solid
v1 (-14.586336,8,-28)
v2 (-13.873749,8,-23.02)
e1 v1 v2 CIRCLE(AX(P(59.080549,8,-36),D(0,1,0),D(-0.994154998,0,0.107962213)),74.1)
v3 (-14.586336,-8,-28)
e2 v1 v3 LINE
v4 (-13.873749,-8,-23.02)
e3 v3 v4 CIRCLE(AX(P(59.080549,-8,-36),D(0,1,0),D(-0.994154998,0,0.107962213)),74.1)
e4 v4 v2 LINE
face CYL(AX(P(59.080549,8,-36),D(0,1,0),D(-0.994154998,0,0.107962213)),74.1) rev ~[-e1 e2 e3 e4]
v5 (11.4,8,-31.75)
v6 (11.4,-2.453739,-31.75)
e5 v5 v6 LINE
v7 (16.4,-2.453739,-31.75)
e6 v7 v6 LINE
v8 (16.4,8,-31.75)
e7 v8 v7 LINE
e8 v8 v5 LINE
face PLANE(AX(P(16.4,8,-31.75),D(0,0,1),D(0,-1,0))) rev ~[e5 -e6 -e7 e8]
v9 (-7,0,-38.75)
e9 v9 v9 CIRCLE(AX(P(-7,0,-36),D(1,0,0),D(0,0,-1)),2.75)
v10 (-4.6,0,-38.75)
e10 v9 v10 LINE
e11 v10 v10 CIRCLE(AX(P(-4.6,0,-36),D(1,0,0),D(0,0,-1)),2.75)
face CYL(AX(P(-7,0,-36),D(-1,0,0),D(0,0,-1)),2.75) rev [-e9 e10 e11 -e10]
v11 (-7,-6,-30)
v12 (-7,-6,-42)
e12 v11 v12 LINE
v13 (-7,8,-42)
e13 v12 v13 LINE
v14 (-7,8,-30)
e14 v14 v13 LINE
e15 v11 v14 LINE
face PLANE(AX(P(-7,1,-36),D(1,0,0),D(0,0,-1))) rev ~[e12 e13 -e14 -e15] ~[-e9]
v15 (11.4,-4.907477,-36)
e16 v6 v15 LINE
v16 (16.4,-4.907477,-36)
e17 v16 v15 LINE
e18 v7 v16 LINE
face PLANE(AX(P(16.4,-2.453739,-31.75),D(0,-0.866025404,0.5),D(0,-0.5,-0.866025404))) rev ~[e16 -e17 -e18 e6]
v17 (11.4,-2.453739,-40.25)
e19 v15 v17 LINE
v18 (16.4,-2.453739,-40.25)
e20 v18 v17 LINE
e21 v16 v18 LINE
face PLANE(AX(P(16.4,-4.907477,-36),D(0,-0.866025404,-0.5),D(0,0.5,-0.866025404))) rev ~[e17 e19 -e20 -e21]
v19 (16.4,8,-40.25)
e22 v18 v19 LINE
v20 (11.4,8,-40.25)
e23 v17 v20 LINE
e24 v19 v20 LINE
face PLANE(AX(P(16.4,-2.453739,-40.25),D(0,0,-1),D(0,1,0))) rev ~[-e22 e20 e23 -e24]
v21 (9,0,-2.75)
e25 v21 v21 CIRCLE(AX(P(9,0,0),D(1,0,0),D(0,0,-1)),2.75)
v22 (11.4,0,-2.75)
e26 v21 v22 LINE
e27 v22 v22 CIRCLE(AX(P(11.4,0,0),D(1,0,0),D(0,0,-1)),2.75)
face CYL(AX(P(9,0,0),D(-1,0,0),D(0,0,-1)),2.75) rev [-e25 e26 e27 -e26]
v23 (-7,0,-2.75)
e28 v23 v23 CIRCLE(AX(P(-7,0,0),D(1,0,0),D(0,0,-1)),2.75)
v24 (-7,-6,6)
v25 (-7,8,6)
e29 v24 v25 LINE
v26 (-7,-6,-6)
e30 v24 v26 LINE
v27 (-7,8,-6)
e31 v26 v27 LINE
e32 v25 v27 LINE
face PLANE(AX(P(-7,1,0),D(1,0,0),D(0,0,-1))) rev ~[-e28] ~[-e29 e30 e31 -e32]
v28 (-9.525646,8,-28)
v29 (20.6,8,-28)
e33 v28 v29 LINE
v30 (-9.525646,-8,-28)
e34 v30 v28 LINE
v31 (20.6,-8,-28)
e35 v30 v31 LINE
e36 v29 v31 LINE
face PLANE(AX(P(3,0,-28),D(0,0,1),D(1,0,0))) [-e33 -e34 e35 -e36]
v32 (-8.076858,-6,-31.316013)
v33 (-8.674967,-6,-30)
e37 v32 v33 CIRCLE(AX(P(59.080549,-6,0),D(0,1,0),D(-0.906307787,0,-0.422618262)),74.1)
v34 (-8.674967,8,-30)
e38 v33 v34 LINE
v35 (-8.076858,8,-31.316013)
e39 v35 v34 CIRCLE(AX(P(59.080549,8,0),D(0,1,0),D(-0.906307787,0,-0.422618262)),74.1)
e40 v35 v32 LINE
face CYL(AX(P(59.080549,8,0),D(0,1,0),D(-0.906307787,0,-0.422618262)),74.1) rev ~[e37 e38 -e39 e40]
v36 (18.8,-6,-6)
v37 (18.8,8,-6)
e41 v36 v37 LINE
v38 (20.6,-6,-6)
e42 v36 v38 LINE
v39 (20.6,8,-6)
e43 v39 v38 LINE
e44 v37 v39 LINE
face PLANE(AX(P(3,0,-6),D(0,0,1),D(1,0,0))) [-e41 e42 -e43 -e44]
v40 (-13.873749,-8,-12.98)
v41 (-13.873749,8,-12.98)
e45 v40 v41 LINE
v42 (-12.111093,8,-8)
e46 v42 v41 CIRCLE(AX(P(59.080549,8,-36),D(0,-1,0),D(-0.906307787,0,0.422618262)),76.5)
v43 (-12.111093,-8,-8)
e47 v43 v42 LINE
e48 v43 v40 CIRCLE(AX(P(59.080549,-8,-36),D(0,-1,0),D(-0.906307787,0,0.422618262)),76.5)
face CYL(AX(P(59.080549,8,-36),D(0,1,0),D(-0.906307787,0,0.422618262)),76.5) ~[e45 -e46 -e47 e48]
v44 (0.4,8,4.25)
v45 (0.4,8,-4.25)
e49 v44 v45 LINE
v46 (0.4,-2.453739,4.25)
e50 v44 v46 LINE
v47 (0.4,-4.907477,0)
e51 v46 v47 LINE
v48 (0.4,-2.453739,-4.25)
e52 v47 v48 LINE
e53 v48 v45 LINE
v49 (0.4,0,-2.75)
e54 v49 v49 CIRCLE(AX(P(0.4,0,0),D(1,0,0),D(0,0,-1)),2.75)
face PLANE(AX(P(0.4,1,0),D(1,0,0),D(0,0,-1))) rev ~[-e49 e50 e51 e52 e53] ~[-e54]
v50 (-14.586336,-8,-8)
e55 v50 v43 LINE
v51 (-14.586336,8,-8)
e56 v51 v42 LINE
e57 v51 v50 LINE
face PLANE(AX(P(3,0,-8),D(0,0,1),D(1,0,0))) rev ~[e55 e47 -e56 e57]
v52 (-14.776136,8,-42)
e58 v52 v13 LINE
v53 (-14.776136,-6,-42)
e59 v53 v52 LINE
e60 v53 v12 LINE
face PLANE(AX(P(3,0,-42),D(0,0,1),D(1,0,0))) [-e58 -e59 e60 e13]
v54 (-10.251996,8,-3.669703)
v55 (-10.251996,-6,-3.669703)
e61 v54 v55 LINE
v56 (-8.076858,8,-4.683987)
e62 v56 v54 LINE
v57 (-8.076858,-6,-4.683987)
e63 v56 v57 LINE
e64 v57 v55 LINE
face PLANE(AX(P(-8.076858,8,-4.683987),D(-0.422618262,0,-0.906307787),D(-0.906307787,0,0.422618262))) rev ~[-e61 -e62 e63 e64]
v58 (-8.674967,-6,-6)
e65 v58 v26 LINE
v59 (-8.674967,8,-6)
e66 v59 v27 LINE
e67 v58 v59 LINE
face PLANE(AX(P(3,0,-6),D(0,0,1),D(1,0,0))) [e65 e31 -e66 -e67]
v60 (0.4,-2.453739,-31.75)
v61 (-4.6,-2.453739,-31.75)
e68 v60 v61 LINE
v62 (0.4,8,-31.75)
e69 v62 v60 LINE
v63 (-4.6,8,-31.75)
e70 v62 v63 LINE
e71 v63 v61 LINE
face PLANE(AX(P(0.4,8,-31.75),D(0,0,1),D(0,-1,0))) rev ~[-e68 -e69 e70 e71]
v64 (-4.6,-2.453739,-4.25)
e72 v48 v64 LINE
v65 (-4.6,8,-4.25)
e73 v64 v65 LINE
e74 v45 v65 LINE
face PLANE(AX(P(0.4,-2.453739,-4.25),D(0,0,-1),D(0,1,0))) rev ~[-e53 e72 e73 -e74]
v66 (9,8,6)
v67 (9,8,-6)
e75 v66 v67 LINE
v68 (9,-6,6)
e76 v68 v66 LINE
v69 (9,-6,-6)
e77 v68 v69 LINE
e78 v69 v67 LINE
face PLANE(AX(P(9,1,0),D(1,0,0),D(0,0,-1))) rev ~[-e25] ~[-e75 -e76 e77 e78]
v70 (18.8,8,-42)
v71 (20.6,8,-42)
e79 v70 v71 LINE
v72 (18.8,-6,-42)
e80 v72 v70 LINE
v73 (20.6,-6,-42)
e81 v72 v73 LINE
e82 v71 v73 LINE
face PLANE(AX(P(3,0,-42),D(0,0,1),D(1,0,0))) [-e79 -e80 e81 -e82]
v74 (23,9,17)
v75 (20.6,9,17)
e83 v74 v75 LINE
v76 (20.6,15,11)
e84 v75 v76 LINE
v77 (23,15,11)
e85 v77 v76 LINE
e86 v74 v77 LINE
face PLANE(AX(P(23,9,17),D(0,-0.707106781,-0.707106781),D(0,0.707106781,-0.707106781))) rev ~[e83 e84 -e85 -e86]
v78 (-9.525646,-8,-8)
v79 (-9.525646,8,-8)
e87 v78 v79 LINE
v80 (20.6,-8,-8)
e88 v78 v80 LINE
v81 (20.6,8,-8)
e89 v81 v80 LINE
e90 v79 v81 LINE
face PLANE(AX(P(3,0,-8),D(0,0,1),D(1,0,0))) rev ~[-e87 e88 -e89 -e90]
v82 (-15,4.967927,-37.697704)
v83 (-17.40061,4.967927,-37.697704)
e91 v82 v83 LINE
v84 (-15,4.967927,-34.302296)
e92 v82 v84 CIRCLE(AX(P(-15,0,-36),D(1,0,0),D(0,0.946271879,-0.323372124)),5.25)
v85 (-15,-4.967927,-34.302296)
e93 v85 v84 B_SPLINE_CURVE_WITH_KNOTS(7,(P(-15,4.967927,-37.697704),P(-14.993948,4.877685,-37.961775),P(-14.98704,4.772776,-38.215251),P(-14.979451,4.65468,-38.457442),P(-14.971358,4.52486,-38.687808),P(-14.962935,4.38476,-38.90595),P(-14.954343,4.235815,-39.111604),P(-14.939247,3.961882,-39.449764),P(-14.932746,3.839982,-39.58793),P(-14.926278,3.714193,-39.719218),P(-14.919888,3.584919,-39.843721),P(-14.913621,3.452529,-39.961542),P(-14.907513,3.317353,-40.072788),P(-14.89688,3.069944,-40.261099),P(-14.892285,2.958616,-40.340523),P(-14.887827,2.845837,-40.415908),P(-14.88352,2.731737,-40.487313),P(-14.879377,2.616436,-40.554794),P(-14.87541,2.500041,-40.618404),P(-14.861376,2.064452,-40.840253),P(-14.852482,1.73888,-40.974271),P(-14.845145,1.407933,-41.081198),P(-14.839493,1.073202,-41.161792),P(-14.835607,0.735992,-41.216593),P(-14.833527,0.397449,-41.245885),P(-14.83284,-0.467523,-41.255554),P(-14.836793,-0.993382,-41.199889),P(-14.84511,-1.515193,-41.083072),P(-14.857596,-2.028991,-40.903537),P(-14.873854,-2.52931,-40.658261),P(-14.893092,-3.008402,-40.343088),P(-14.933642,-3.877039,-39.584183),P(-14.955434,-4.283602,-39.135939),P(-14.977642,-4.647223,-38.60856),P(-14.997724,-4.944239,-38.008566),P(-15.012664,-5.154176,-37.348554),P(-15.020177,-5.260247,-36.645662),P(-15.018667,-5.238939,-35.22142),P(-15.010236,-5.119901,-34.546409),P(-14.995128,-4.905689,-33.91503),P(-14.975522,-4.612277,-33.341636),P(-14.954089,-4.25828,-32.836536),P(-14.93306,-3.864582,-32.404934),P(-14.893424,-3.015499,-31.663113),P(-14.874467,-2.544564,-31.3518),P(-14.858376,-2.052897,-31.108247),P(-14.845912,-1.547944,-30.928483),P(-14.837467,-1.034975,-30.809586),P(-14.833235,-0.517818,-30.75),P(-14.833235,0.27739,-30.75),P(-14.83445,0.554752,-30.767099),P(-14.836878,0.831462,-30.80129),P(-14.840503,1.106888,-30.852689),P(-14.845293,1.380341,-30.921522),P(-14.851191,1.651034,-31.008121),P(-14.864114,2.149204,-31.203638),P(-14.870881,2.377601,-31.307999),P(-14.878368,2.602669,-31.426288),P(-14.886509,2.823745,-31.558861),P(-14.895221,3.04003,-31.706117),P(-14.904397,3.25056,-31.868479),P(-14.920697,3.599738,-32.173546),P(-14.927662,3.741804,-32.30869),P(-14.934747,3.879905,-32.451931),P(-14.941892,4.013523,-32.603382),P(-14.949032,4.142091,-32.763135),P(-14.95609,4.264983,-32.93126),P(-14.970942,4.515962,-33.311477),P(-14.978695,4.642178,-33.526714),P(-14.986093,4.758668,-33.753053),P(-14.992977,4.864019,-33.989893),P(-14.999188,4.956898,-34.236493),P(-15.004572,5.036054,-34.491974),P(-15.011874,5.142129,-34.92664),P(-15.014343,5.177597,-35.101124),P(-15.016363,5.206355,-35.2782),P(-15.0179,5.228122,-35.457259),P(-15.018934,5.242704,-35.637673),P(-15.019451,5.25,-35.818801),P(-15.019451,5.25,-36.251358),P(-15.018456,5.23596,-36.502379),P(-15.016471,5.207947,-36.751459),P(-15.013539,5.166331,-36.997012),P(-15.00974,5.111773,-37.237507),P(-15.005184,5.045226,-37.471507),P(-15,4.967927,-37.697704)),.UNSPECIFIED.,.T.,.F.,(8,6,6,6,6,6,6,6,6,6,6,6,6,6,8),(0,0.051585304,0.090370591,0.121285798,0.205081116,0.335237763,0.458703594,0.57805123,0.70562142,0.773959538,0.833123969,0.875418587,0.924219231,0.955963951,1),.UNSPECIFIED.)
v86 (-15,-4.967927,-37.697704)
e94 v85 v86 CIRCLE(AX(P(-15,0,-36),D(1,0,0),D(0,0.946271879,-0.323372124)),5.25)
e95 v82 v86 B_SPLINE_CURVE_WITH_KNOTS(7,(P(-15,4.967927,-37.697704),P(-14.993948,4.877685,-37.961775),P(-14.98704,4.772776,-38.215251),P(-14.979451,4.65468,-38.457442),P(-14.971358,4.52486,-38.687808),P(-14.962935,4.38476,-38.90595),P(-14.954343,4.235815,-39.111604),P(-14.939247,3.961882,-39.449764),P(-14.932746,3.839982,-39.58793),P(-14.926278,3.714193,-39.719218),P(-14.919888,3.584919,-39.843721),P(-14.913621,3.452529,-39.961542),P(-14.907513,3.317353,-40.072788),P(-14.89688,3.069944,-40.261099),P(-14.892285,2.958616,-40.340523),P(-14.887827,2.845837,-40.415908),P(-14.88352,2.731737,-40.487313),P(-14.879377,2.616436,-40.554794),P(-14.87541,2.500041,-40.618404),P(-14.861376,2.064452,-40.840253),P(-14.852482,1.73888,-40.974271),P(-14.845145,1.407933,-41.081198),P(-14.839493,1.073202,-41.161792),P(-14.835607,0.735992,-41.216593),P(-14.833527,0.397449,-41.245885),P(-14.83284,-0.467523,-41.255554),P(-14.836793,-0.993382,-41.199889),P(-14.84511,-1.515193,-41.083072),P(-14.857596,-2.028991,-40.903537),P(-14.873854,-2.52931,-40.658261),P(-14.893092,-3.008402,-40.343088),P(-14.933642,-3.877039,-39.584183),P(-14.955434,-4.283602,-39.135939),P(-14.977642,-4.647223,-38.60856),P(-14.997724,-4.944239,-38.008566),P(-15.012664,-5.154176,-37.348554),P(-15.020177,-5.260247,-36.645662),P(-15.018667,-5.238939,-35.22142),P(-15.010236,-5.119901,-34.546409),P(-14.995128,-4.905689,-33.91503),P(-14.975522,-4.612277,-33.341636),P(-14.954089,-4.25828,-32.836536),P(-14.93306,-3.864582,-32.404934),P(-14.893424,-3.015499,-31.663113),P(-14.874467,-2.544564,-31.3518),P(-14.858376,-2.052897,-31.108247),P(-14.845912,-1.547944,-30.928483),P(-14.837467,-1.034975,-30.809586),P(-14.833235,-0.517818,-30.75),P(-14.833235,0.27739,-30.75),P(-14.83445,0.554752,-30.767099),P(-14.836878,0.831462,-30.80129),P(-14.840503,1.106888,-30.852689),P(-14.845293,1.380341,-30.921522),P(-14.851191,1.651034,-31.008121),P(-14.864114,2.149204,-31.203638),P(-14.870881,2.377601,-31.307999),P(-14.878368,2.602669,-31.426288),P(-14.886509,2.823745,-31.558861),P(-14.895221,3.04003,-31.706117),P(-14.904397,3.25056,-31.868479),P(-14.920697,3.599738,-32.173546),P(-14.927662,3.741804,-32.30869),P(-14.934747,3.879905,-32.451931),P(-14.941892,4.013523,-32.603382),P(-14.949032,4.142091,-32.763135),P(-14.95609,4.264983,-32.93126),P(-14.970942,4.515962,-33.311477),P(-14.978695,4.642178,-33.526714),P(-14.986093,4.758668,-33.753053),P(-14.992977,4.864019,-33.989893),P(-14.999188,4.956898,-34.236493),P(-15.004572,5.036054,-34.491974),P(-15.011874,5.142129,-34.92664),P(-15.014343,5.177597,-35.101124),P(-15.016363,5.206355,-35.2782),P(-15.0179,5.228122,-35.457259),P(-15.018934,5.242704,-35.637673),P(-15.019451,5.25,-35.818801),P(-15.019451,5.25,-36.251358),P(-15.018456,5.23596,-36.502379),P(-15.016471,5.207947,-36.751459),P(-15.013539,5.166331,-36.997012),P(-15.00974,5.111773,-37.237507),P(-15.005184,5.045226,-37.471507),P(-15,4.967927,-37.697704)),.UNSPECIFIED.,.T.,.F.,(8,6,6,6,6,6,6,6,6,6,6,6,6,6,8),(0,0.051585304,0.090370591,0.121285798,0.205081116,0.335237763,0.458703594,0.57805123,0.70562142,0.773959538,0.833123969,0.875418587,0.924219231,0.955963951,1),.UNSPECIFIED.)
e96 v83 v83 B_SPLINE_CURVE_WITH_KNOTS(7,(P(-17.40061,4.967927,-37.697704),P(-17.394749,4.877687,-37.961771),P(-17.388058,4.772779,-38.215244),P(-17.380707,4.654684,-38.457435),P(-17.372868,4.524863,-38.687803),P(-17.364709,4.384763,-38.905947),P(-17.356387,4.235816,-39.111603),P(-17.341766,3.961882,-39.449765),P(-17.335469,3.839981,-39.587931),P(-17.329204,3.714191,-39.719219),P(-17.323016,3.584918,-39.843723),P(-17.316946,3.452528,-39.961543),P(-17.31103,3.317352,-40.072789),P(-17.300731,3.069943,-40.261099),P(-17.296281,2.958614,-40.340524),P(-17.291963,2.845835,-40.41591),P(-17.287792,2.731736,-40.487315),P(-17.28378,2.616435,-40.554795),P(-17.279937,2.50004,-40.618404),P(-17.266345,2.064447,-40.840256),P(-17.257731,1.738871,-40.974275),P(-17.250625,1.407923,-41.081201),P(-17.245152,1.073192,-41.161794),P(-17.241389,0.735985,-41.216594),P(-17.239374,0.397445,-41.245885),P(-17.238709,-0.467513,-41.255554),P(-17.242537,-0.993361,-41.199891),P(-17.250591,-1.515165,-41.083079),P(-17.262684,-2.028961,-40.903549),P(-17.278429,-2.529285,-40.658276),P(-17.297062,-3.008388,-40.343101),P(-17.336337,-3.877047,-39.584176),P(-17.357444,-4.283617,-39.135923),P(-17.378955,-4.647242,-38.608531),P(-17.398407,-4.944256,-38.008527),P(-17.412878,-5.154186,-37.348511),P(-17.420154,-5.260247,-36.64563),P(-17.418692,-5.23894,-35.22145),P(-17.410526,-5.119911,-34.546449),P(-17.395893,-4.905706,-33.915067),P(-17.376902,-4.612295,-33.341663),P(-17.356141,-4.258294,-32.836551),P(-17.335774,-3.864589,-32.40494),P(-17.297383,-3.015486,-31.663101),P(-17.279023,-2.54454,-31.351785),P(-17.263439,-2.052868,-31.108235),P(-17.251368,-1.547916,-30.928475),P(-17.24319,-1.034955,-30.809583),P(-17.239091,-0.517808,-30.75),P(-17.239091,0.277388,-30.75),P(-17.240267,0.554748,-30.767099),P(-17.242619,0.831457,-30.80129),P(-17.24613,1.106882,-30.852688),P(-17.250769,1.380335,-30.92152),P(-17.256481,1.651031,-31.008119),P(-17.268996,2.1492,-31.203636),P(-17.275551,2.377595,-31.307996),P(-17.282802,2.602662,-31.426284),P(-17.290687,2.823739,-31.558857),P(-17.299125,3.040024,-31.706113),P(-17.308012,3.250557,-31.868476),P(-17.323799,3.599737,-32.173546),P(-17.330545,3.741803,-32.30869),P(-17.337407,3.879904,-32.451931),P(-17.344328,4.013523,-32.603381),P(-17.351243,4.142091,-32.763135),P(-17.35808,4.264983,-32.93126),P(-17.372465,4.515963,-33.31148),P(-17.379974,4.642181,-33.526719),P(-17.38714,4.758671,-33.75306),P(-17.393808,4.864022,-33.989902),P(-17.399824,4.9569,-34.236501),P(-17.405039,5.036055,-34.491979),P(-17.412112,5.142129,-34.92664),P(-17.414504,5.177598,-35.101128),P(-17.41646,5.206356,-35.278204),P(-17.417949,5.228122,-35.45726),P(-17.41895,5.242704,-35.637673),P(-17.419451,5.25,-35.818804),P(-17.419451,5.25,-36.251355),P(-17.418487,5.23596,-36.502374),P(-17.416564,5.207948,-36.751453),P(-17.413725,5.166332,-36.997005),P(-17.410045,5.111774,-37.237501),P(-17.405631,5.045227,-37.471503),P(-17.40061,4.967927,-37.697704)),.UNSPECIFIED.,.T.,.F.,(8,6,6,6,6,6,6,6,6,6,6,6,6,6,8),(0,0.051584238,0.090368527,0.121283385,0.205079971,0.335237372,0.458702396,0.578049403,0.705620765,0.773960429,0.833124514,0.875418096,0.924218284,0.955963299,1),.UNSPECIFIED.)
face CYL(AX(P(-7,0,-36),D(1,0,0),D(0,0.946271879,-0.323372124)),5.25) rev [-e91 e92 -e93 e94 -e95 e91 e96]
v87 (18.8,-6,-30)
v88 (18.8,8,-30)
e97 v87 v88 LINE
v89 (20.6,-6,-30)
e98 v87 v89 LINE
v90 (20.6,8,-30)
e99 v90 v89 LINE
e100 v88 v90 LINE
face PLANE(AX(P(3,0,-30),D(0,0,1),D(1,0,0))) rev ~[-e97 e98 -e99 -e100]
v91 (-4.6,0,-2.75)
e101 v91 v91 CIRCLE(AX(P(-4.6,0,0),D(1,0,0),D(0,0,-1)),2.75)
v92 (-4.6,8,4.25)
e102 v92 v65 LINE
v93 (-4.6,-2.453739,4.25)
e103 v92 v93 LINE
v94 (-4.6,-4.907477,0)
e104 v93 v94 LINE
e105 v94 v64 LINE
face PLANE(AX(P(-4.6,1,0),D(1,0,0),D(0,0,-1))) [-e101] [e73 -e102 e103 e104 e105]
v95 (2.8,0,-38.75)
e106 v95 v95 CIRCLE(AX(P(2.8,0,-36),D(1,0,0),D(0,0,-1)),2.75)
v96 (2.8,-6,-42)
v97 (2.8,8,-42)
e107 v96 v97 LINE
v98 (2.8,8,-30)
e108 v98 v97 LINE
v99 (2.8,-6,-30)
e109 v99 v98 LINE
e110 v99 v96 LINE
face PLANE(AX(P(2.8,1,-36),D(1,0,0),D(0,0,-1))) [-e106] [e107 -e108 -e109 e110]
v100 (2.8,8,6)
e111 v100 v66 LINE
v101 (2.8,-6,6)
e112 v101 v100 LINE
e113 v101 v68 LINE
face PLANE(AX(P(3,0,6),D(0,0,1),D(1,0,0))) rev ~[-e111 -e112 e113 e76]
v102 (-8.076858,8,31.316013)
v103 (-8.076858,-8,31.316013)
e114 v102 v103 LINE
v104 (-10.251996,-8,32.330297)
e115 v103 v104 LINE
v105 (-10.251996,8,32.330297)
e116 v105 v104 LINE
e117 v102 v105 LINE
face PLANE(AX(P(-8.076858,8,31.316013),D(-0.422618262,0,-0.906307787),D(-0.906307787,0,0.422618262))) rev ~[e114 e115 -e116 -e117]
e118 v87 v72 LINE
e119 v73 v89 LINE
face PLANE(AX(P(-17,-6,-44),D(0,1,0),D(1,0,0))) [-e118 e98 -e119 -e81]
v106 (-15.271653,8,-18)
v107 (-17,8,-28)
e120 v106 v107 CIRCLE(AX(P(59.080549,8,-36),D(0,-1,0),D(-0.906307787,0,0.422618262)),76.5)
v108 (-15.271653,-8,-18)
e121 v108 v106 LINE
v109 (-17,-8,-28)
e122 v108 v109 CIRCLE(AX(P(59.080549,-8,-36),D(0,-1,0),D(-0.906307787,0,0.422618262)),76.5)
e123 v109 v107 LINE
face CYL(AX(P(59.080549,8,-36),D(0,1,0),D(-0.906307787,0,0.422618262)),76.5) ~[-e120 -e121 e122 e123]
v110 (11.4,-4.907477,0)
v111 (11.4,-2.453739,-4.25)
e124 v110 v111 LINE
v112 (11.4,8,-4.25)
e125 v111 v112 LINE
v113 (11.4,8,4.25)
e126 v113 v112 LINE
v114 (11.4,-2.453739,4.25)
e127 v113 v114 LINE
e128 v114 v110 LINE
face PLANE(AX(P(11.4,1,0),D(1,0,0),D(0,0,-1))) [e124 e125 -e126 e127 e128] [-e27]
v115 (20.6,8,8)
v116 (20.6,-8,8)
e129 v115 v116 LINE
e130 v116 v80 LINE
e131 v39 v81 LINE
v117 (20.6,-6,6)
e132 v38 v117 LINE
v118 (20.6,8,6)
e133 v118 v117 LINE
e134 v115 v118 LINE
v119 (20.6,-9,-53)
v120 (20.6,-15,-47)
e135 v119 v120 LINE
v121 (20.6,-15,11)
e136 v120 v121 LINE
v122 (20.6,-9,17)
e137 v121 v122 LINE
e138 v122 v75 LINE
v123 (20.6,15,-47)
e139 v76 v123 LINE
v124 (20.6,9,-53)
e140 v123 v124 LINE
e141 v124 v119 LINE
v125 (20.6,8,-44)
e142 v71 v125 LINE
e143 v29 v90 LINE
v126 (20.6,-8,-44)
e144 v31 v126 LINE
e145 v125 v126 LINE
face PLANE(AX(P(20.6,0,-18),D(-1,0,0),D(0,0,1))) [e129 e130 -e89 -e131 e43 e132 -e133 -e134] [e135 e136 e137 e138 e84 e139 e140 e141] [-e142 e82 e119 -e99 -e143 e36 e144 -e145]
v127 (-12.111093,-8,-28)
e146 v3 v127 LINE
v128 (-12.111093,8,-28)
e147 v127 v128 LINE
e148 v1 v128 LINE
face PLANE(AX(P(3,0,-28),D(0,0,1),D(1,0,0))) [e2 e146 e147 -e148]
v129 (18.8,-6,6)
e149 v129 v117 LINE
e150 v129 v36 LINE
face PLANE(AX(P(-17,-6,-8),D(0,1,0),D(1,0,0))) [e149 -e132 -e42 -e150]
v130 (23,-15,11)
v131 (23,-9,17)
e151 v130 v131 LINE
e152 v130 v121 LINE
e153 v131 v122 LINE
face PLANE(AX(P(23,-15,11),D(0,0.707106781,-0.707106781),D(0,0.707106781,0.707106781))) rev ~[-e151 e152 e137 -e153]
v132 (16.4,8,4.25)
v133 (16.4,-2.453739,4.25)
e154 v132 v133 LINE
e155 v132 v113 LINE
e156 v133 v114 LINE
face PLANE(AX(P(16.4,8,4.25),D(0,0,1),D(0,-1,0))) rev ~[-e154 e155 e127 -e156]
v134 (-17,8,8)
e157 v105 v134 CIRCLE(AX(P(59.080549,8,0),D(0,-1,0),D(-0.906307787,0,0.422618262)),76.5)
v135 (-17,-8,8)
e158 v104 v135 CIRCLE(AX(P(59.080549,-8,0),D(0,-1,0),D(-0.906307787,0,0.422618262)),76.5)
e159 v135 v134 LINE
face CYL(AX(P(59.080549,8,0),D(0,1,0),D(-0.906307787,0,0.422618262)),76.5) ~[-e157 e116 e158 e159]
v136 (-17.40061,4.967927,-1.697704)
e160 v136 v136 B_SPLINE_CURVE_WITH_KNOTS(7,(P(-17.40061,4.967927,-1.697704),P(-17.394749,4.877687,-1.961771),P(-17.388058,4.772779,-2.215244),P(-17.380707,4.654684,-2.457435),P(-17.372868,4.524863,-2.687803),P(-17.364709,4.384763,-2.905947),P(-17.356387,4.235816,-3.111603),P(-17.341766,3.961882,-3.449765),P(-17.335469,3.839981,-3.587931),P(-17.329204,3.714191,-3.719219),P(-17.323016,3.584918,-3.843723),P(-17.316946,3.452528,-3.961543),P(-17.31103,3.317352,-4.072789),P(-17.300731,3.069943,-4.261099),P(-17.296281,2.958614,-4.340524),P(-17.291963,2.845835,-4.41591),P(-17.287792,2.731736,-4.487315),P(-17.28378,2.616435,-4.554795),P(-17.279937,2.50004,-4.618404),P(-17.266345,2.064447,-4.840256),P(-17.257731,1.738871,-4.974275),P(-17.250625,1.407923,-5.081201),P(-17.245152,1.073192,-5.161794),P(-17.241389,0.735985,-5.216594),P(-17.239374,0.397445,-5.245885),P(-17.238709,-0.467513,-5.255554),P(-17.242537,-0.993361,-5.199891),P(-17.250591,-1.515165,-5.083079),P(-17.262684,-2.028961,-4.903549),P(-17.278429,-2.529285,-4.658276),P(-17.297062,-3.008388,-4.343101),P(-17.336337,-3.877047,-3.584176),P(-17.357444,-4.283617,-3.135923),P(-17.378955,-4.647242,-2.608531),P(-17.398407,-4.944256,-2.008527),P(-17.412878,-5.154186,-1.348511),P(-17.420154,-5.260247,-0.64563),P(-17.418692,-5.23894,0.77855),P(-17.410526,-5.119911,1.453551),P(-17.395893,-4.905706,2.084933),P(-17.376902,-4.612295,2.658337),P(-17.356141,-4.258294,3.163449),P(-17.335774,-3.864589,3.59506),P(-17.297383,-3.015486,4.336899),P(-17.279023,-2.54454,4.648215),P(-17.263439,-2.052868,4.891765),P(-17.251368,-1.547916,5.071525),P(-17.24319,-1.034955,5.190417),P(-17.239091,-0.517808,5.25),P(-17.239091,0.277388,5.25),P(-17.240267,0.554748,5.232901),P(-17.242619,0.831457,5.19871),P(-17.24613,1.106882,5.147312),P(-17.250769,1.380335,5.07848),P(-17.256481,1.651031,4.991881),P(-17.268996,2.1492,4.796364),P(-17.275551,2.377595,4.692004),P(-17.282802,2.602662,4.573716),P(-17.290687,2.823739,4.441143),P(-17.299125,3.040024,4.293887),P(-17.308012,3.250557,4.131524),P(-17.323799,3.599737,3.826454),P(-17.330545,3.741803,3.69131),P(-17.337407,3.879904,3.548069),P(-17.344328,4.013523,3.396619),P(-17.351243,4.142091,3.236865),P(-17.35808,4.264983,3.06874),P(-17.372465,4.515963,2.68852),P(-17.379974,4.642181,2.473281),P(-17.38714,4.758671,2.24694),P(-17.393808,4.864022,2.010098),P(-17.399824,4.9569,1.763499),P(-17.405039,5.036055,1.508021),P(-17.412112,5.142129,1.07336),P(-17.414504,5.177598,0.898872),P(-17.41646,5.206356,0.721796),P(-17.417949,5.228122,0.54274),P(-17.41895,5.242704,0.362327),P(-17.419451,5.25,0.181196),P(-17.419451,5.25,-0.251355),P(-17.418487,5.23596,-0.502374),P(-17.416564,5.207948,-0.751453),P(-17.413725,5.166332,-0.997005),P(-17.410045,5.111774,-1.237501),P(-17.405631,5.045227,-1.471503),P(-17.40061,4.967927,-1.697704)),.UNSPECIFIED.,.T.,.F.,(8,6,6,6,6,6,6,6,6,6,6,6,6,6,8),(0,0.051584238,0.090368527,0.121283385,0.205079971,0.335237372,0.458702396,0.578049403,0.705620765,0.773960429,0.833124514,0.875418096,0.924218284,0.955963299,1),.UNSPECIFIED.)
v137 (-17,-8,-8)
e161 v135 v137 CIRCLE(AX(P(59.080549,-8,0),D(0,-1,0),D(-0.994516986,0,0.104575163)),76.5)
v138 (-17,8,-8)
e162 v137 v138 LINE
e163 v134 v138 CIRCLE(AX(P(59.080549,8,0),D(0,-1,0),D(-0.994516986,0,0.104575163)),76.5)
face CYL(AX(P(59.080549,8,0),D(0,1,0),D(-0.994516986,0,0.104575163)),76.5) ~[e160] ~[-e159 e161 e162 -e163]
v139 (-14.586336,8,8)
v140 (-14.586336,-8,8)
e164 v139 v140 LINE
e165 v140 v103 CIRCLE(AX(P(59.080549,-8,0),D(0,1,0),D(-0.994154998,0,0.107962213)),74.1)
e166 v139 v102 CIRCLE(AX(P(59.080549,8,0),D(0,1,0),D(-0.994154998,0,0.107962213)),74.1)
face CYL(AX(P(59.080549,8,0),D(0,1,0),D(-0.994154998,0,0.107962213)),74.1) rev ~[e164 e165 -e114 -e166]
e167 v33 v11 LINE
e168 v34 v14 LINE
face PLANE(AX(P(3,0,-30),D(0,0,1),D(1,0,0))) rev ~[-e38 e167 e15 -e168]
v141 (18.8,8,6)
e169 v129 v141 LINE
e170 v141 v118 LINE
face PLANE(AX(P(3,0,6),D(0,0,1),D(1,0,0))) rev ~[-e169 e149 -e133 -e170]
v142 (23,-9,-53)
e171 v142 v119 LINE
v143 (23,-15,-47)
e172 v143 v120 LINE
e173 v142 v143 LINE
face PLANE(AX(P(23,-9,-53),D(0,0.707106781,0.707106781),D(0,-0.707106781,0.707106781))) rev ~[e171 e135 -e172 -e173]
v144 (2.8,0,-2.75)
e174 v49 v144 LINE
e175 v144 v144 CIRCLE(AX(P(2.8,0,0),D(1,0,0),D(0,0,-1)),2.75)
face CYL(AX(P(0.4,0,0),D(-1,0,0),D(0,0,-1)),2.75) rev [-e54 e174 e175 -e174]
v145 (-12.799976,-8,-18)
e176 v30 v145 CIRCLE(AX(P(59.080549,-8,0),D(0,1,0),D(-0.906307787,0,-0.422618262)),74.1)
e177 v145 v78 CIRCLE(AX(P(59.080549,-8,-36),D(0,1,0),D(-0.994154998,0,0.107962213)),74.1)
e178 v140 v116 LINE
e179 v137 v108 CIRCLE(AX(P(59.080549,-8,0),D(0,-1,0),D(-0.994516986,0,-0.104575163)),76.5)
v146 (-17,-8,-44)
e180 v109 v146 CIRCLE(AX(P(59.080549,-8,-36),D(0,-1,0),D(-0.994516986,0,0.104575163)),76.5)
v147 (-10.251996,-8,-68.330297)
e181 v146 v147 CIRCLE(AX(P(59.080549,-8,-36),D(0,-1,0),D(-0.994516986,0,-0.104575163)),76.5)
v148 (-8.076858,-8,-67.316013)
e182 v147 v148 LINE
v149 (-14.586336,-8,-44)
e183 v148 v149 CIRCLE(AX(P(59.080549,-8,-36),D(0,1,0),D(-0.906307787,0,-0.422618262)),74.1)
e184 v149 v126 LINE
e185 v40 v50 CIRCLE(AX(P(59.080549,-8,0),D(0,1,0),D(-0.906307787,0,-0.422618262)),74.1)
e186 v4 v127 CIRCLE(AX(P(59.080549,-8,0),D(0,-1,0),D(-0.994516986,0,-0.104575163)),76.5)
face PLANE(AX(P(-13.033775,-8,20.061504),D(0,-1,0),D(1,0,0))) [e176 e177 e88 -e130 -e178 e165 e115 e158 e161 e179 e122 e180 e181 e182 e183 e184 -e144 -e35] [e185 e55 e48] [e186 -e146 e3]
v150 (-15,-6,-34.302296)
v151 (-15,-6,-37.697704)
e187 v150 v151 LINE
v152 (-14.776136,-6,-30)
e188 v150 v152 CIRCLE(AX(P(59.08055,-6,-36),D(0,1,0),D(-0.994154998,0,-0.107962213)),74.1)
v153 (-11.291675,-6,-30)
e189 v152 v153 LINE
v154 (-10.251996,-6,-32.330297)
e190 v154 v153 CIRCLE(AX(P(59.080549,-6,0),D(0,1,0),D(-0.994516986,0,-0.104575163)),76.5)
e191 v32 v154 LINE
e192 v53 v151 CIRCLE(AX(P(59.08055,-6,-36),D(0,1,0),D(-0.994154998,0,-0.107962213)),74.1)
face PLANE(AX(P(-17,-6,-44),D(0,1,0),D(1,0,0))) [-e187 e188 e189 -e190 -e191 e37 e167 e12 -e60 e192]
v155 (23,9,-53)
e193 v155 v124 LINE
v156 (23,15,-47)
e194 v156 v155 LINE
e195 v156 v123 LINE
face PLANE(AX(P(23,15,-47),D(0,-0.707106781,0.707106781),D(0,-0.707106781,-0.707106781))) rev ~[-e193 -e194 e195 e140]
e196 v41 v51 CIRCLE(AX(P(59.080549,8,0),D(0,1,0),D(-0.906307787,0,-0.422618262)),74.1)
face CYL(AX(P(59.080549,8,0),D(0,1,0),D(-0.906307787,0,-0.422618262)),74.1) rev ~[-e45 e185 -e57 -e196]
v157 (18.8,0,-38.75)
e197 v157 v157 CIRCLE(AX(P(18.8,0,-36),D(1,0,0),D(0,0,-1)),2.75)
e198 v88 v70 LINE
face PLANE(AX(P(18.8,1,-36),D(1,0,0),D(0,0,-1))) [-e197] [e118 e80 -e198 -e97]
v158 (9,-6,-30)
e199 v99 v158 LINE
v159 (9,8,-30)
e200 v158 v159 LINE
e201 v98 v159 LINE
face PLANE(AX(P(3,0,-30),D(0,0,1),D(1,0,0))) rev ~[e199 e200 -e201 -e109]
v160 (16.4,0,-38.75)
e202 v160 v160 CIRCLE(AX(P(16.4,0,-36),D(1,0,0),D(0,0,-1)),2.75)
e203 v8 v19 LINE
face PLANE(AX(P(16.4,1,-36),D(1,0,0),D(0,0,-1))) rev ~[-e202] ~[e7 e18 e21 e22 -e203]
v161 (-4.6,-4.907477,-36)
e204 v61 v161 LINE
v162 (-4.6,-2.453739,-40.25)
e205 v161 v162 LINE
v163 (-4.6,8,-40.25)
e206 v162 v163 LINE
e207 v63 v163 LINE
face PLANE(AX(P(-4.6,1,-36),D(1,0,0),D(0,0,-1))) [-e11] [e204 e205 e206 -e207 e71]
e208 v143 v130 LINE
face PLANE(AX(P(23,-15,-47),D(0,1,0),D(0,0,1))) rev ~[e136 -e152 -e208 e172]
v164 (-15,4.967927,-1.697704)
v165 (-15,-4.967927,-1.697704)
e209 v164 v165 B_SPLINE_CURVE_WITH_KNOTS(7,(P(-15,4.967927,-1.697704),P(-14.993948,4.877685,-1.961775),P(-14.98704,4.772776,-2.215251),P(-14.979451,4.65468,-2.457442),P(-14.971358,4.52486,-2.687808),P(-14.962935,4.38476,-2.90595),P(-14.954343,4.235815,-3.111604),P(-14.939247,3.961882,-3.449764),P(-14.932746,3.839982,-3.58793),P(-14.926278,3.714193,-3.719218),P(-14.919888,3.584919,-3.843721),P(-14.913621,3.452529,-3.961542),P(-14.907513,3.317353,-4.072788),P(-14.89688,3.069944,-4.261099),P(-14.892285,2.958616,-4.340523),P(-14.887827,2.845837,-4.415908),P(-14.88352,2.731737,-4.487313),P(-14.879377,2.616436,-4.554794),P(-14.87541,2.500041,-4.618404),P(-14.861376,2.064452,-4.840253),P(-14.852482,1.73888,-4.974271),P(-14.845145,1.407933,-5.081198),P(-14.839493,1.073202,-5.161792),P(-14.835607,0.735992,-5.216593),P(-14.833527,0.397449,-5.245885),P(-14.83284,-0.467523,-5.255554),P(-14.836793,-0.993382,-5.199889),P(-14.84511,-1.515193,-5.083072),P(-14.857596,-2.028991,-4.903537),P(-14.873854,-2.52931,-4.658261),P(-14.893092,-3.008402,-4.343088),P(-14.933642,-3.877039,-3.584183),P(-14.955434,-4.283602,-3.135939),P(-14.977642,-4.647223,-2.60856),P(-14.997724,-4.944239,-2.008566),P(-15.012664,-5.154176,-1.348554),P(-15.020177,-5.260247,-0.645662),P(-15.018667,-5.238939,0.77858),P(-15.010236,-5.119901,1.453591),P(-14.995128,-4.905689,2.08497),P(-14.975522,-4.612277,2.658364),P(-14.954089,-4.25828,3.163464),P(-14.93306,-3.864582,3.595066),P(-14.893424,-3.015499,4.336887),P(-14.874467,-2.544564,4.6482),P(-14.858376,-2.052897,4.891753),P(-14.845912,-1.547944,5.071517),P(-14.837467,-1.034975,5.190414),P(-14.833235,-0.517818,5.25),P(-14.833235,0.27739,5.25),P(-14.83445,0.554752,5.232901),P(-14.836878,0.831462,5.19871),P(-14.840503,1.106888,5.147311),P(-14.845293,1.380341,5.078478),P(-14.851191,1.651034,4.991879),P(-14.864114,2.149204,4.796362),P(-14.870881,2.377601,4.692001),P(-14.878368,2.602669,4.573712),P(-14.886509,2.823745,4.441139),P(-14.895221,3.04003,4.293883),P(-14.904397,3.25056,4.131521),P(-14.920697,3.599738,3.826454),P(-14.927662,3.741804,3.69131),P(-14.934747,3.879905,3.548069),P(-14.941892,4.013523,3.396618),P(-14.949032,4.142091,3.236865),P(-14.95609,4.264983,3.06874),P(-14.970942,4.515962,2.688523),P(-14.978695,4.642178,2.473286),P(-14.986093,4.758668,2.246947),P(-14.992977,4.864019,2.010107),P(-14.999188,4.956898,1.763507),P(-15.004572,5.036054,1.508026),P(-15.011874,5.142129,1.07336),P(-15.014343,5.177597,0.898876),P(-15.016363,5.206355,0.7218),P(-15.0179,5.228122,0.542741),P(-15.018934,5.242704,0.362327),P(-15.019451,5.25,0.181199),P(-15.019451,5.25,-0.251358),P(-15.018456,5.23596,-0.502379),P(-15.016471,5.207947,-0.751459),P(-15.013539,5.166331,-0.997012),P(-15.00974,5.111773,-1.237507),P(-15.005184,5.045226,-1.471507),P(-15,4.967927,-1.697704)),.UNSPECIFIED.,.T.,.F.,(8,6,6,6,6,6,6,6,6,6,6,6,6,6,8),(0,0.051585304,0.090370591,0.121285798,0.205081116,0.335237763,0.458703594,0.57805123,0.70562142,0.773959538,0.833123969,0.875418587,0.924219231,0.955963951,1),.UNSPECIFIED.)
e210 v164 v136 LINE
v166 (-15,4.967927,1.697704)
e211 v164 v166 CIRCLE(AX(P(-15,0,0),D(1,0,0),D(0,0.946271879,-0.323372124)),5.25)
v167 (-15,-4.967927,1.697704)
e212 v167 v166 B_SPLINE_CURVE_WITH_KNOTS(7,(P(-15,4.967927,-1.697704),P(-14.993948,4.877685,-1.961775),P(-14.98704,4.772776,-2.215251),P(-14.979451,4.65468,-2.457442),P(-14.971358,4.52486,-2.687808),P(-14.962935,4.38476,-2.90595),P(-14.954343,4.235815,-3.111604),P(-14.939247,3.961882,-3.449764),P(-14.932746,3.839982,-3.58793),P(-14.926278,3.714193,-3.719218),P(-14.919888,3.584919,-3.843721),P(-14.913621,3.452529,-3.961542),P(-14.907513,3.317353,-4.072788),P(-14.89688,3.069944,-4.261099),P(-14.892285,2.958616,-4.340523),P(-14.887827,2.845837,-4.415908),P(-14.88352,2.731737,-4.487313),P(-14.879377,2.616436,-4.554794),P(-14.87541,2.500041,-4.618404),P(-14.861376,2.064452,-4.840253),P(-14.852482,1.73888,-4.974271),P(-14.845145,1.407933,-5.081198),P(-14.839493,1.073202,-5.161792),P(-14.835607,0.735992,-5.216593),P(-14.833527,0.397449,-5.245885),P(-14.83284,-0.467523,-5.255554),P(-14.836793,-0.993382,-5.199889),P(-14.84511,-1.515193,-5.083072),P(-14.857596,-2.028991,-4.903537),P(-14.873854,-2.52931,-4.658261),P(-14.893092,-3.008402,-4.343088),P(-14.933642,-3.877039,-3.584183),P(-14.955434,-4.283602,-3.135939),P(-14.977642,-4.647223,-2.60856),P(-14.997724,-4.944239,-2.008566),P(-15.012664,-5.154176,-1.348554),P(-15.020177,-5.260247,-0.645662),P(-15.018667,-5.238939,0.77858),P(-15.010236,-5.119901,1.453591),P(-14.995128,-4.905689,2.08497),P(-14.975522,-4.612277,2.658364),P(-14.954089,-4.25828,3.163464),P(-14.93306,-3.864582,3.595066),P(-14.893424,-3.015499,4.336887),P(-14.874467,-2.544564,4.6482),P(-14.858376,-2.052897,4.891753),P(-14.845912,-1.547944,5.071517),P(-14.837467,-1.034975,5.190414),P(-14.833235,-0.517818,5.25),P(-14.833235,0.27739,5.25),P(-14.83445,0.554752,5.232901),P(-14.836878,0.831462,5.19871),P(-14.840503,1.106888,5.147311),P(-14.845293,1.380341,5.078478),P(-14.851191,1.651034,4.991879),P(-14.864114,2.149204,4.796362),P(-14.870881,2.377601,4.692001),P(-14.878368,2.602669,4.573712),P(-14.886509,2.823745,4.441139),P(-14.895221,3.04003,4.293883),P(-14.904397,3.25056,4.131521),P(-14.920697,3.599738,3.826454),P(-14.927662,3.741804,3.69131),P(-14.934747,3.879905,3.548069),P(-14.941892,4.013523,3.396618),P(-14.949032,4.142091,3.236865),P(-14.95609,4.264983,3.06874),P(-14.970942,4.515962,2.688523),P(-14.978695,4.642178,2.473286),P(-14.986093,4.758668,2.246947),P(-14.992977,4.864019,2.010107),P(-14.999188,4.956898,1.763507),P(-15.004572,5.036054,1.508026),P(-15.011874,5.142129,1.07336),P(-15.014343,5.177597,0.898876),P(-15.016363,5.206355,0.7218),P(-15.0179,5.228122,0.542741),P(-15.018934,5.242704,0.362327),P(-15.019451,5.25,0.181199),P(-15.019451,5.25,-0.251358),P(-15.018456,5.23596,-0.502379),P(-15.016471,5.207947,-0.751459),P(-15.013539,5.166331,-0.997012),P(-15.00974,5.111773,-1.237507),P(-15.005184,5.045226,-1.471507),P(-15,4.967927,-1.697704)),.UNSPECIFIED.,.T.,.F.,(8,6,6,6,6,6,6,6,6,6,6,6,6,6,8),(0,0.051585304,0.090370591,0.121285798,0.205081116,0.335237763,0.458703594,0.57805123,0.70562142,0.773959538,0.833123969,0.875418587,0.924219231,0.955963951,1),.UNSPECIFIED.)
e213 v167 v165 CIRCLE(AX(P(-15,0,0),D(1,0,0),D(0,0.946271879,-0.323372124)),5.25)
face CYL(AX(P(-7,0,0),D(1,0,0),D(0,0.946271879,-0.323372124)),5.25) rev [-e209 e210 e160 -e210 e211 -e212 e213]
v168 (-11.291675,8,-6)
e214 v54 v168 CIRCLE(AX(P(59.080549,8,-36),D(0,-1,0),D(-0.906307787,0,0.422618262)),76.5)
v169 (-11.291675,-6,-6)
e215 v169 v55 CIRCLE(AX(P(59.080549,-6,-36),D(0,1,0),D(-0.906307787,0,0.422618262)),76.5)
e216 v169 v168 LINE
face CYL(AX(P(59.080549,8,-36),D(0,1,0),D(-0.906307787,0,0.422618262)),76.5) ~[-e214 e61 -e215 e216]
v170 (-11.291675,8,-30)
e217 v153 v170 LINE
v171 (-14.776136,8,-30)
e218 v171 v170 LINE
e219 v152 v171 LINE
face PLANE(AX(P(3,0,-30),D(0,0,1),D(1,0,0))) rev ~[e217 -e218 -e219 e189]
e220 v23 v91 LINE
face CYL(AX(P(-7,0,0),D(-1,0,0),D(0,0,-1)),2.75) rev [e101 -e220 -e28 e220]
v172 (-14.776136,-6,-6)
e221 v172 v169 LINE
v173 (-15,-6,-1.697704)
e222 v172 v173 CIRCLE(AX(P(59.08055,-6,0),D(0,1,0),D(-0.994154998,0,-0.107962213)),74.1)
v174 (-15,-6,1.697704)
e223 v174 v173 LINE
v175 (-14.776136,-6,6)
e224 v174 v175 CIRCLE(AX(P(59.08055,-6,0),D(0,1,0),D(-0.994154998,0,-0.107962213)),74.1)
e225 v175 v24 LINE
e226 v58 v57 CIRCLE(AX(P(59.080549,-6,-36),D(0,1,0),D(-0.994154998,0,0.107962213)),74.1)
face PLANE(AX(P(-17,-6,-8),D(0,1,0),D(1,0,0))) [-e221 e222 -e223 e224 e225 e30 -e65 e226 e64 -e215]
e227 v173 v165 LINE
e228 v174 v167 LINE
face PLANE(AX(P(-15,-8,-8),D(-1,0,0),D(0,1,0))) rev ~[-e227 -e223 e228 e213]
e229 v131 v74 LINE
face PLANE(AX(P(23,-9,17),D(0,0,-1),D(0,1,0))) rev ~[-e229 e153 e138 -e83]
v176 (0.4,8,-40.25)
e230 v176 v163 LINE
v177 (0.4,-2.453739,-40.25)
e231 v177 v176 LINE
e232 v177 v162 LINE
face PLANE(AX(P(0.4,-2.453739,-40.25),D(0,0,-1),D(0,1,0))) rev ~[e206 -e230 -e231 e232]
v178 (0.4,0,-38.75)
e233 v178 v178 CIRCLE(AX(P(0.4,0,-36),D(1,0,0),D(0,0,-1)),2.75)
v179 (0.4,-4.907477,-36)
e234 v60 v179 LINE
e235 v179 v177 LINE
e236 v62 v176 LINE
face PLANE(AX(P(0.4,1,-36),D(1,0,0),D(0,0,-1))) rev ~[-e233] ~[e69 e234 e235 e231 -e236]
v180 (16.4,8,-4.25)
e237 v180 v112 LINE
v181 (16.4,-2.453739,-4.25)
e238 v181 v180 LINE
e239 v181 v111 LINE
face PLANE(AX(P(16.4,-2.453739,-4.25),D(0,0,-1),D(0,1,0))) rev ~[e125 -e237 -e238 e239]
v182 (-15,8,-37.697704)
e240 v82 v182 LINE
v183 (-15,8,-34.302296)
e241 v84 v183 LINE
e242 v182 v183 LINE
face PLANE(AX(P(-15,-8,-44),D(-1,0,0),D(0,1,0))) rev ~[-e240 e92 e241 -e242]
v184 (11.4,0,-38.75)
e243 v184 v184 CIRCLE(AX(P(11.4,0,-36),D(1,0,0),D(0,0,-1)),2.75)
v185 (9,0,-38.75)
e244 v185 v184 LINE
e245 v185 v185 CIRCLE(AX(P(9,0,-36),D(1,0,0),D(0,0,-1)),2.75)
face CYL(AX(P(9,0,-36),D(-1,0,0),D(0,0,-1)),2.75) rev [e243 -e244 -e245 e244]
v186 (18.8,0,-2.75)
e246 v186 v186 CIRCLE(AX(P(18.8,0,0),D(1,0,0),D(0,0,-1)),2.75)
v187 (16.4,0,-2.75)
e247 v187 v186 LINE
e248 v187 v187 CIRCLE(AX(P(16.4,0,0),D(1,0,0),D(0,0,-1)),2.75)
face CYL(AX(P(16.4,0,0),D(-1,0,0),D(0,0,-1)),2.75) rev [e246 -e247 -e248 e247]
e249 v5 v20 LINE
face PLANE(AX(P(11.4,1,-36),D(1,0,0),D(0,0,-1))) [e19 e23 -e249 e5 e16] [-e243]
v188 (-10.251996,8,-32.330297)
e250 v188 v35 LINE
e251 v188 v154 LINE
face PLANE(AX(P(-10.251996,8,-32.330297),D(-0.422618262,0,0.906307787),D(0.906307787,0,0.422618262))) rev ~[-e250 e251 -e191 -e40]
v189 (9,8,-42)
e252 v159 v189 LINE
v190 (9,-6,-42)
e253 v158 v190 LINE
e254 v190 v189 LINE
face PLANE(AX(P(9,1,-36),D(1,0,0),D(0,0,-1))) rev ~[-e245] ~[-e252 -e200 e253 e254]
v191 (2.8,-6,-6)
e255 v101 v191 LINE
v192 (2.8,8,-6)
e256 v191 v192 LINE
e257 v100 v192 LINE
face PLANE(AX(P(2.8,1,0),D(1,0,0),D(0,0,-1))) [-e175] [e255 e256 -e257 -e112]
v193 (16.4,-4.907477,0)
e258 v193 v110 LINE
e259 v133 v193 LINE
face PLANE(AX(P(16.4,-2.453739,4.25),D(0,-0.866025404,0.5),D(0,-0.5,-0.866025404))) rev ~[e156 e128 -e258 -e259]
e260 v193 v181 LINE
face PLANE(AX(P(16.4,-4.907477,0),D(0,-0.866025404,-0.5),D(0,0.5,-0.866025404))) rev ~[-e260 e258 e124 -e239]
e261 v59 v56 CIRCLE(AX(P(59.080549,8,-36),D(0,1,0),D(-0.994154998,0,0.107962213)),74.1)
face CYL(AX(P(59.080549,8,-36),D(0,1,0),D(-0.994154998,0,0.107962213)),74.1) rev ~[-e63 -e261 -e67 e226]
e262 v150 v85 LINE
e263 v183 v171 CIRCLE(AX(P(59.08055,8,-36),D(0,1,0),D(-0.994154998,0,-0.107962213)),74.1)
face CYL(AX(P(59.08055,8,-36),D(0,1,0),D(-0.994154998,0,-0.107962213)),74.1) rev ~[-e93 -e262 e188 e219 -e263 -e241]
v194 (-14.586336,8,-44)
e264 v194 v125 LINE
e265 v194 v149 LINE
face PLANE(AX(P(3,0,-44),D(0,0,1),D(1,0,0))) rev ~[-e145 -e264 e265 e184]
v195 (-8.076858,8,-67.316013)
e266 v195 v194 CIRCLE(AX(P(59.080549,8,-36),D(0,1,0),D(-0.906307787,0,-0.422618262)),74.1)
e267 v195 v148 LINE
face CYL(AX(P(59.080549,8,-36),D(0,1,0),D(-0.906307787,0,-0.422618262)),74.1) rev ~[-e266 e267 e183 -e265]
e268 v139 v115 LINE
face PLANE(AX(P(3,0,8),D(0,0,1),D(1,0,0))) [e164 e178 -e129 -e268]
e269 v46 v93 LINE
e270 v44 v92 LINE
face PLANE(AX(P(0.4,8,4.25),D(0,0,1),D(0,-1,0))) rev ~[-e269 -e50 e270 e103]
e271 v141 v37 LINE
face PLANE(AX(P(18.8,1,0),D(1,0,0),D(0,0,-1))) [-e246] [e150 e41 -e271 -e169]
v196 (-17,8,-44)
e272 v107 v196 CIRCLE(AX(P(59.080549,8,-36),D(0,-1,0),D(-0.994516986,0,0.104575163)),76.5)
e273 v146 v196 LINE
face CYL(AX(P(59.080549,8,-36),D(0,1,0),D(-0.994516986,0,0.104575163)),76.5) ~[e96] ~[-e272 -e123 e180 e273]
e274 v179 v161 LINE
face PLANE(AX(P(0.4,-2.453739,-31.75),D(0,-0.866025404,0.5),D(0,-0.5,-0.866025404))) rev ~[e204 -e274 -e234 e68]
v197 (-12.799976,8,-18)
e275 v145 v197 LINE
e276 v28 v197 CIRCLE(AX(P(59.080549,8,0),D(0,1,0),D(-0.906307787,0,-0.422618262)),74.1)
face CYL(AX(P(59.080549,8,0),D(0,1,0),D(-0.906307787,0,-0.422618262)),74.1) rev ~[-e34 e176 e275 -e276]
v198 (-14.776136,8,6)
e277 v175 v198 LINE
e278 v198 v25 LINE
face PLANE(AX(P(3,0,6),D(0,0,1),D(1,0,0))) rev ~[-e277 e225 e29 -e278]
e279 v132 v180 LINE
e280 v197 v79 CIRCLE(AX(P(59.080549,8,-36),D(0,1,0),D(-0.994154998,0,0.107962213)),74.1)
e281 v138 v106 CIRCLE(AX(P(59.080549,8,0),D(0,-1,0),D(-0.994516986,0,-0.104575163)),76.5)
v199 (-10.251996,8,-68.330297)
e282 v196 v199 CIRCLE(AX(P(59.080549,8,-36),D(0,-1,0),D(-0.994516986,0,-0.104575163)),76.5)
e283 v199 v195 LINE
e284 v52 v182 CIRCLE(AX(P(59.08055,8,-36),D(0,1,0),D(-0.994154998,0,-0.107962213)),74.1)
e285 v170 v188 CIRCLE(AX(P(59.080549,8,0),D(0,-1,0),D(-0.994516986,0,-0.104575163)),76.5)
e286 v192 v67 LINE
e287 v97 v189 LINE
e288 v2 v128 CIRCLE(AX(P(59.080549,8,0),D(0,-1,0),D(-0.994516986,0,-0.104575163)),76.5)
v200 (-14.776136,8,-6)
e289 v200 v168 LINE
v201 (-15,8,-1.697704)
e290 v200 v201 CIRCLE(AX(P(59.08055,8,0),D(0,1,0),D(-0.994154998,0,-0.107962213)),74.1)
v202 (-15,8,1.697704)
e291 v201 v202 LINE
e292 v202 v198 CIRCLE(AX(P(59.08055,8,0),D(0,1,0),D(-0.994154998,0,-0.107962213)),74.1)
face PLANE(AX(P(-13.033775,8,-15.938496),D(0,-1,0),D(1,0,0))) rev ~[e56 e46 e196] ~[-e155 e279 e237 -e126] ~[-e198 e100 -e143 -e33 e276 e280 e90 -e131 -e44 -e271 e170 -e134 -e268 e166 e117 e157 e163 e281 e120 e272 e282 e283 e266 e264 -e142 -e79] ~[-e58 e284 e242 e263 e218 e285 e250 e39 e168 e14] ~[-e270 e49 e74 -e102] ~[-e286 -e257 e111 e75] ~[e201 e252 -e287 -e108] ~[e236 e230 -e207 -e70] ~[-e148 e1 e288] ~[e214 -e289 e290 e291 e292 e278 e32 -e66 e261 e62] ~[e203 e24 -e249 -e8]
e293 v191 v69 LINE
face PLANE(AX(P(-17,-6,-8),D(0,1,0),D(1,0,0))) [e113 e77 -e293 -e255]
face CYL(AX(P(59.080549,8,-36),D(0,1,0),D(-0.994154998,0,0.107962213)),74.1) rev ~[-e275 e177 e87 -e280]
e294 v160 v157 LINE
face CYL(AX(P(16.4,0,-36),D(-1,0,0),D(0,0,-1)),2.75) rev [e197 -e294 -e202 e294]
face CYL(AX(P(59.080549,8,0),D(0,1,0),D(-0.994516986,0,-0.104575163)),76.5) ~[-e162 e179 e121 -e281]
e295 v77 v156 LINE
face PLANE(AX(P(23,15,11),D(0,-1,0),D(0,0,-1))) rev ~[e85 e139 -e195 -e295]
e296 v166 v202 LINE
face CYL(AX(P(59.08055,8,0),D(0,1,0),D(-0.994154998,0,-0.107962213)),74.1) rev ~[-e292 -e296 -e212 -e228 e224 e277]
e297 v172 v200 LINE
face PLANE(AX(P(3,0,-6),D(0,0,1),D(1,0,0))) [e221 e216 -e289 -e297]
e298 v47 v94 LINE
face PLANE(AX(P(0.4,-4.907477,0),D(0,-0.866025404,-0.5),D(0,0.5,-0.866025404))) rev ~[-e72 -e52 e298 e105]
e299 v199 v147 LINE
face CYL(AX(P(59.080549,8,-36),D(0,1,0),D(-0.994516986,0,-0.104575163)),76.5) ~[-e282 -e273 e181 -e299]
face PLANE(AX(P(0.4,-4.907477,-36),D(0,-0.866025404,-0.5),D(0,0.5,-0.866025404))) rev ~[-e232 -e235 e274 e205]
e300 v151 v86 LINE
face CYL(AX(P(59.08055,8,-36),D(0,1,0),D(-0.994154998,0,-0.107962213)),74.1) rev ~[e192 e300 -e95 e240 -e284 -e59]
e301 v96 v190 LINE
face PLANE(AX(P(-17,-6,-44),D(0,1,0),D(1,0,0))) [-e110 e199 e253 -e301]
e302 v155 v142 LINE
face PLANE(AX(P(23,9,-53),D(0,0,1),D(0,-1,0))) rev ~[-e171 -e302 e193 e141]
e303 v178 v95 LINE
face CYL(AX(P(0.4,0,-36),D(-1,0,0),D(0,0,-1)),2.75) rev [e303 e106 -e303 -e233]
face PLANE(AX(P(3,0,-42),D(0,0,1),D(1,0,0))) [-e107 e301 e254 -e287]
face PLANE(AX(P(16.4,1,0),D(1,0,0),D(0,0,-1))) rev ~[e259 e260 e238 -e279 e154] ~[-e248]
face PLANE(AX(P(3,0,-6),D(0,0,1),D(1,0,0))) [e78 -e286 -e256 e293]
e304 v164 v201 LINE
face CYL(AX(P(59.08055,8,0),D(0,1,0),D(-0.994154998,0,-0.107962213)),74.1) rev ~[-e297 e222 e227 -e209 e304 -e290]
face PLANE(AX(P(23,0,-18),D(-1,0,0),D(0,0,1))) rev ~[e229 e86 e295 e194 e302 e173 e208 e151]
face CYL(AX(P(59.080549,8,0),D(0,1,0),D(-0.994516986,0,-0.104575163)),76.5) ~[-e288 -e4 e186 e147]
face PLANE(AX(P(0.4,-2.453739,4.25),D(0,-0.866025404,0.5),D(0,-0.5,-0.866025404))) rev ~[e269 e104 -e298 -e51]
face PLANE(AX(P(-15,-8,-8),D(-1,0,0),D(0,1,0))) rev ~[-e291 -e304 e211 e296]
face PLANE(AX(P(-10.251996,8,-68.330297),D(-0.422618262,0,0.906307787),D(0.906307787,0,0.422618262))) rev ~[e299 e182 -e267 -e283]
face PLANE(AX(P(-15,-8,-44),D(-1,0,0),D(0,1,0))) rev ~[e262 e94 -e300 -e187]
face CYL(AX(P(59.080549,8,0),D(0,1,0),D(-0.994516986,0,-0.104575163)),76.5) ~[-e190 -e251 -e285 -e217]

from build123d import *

# Parameters (mm, degrees)
BOSS_EXTRUDE1_DEPTH       = 8
BOSS_EXTRUDE1_DEPTH_BACK  = 8
SKETCH1_W                 = 40
SKETCH1_H                 = 16
SHELL1_T                  = -2
SKETCH3_R                 = 4.470610275
CUT_EXTRUDE1_DEPTH        = 10
SKETCH4_W                 = 12
SKETCH4_H                 = 14
SKETCH4_R                 = 2.75
BOSS_EXTRUDE2_DEPTH       = 2.4
LPATTERN1_COUNT           = 2
LPATTERN1_PITCH           = 7.4
LPATTERN2_COUNT           = 2
LPATTERN2_PITCH           = 16
LPATTERN2_COPY_1_SKETCH_W = 12
LPATTERN2_COPY_1_SKETCH_H = 14
LPATTERN2_COPY_1_SKETCH_R = 2.75
LPATTERN2_COPY_1_DEPTH    = 2.4
BOSS_EXTRUDE4_DEPTH       = 5
LPATTERN3_COUNT           = 2
LPATTERN3_PITCH           = 16
BOSS_EXTRUDE6_START       = -16
BOSS_EXTRUDE6_DEPTH       = 16
SKETCH12_R                = 5.25
CUT_EXTRUDE3_DEPTH        = 45.824637279
LPATTERN4_COUNT           = 2
LPATTERN4_PITCH           = 36
BOSS_EXTRUDE5_DEPTH       = 2.4


with BuildPart() as part:
    # Sketch1 → Boss-Extrude1 (new, two sides: drawn at the far end of the back side and taken through both)
    with BuildSketch(Plane.XY.offset(-BOSS_EXTRUDE1_DEPTH_BACK)):
        with Locations((3, 0)):
            Rectangle(SKETCH1_W, SKETCH1_H)
    extrude(amount=BOSS_EXTRUDE1_DEPTH + BOSS_EXTRUDE1_DEPTH_BACK)

    # Shell1
    shell1_openings = [part.faces().sort_by_distance(p)[0] for p in [
        (3, 8, 0),
    ]]
    offset(amount=SHELL1_T, openings=shell1_openings, kind=Kind.INTERSECTION)

    # Sketch3 → Cut-Extrude1 (cut)
    with BuildSketch(Plane.ZY.offset(17)):
        Circle(SKETCH3_R)
    extrude(amount=-CUT_EXTRUDE1_DEPTH, mode=Mode.SUBTRACT)

    # Sketch4 → Boss-Extrude2 (add)
    with BuildSketch(Plane(origin=(-7, 0, 0), x_dir=(0, 0, -1), z_dir=(1, 0, 0))):
        with Locations((0, 1)):
            Rectangle(SKETCH4_W, SKETCH4_H)
        Circle(SKETCH4_R, mode=Mode.SUBTRACT)
    boss_extrude2 = extrude(amount=BOSS_EXTRUDE2_DEPTH)

    # LPattern1: Boss-Extrude2 ×2
    with Locations(*[(i * LPATTERN1_PITCH, 0, 0) for i in range(1, LPATTERN1_COUNT)]):
        add(boss_extrude2)

    # LPattern2: Boss-Extrude2 ×2
    with Locations(*[(i * LPATTERN2_PITCH, 0, 0) for i in range(1, LPATTERN2_COUNT)]):
        add(boss_extrude2)

    # LPattern2 copy 1 sketch → LPattern2 copy 1 (add)
    with BuildSketch(Plane(origin=(16.4, 0, 0), x_dir=(0, 0, -1), z_dir=(1, 0, 0))):
        with Locations((0, 1)):
            Rectangle(LPATTERN2_COPY_1_SKETCH_W, LPATTERN2_COPY_1_SKETCH_H)
        Circle(LPATTERN2_COPY_1_SKETCH_R, mode=Mode.SUBTRACT)
    extrude(amount=LPATTERN2_COPY_1_DEPTH)

    # Sketch6 → Boss-Extrude4 (add)
    with BuildSketch(Plane.ZY.offset(-16.4)):
        Polygon((-4.25, 2.453738644), (-4.25, 8), (-6, 8), (-6, -6), (6, -6), (6, 8), (4.25, 8), (4.25, 2.453738644), (4.25, -2.453738644), (0, -4.907477288), (-4.25, -2.453738644), align=None)
    boss_extrude4 = extrude(amount=BOSS_EXTRUDE4_DEPTH)

    # LPattern3: Boss-Extrude4 ×2
    with Locations(*[(-i * LPATTERN3_PITCH, 0, 0) for i in range(1, LPATTERN3_COUNT)]):
        add(boss_extrude4)

    # Sketch11 → Boss-Extrude6 (add)
    with BuildSketch(Plane.XZ.offset(8).offset(BOSS_EXTRUDE6_START)):
        with BuildLine():
            ThreePointArc((-10.251996289, 32.330297023), (-14.636700237, 20.445466564), (-17, 8))
            Line((-17, 8), (-14.58633595, 8))
            ThreePointArc((-14.58633595, 8), (-12.290169012, 19.925625473), (-8.0768576, 31.316013195))
            Line((-8.0768576, 31.316013195), (-10.251996289, 32.330297023))
        make_face()
        with BuildLine():
            ThreePointArc((-17, 8), (-17.41945058, 0), (-17, -8))
            Line((-17, -8), (-17, 8))
        make_face()
        with BuildLine():
            Line((-17, 8), (-17, -8))
            Line((-17, -8), (-14.58633595, -8))
            ThreePointArc((-14.58633595, -8), (-15.01945058, 0), (-14.58633595, 8))
            Line((-14.58633595, 8), (-17, 8))
        make_face()
        with BuildLine():
            ThreePointArc((-17, -8), (-14.636700237, -20.445466564), (-10.251996289, -32.330297023))
            Line((-10.251996289, -32.330297023), (-8.0768576, -31.316013195))
            ThreePointArc((-8.0768576, -31.316013195), (-12.290169012, -19.925625473), (-14.58633595, -8))
            Line((-14.58633595, -8), (-17, -8))
        make_face()
    extrude(amount=BOSS_EXTRUDE6_DEPTH)

    # Sketch12 → Cut-Extrude3 (cut, through all)
    with BuildSketch(Plane.ZY.offset(7)):
        with Locations(Location((0, 0, 0), (0, 0, 108.866979722))):
            Circle(SKETCH12_R)
    extrude(amount=CUT_EXTRUDE3_DEPTH, mode=Mode.SUBTRACT)


with BuildPart() as lpattern4_1:
    # LPattern4: pattern copy
    add(part.part.moved(Location(Vector(0, 0, -1) * (1 * LPATTERN4_PITCH))))


with BuildPart() as part_1:
    add(part.part)

    add(lpattern4_1.part)  # Boss-Extrude5 merges LPattern4_1
    # Sketch8 → Boss-Extrude5 (add)
    with BuildSketch(Plane(origin=(23, 0, 0), x_dir=(0, 0, -1), z_dir=(1, 0, 0))):
        Polygon((47, -15), (-11, -15), (-17, -9), (-17, 9), (-11, 15), (47, 15), (53, 9), (53, -9), align=None)
    extrude(amount=-BOSS_EXTRUDE5_DEPTH)


solid = part_1.part
